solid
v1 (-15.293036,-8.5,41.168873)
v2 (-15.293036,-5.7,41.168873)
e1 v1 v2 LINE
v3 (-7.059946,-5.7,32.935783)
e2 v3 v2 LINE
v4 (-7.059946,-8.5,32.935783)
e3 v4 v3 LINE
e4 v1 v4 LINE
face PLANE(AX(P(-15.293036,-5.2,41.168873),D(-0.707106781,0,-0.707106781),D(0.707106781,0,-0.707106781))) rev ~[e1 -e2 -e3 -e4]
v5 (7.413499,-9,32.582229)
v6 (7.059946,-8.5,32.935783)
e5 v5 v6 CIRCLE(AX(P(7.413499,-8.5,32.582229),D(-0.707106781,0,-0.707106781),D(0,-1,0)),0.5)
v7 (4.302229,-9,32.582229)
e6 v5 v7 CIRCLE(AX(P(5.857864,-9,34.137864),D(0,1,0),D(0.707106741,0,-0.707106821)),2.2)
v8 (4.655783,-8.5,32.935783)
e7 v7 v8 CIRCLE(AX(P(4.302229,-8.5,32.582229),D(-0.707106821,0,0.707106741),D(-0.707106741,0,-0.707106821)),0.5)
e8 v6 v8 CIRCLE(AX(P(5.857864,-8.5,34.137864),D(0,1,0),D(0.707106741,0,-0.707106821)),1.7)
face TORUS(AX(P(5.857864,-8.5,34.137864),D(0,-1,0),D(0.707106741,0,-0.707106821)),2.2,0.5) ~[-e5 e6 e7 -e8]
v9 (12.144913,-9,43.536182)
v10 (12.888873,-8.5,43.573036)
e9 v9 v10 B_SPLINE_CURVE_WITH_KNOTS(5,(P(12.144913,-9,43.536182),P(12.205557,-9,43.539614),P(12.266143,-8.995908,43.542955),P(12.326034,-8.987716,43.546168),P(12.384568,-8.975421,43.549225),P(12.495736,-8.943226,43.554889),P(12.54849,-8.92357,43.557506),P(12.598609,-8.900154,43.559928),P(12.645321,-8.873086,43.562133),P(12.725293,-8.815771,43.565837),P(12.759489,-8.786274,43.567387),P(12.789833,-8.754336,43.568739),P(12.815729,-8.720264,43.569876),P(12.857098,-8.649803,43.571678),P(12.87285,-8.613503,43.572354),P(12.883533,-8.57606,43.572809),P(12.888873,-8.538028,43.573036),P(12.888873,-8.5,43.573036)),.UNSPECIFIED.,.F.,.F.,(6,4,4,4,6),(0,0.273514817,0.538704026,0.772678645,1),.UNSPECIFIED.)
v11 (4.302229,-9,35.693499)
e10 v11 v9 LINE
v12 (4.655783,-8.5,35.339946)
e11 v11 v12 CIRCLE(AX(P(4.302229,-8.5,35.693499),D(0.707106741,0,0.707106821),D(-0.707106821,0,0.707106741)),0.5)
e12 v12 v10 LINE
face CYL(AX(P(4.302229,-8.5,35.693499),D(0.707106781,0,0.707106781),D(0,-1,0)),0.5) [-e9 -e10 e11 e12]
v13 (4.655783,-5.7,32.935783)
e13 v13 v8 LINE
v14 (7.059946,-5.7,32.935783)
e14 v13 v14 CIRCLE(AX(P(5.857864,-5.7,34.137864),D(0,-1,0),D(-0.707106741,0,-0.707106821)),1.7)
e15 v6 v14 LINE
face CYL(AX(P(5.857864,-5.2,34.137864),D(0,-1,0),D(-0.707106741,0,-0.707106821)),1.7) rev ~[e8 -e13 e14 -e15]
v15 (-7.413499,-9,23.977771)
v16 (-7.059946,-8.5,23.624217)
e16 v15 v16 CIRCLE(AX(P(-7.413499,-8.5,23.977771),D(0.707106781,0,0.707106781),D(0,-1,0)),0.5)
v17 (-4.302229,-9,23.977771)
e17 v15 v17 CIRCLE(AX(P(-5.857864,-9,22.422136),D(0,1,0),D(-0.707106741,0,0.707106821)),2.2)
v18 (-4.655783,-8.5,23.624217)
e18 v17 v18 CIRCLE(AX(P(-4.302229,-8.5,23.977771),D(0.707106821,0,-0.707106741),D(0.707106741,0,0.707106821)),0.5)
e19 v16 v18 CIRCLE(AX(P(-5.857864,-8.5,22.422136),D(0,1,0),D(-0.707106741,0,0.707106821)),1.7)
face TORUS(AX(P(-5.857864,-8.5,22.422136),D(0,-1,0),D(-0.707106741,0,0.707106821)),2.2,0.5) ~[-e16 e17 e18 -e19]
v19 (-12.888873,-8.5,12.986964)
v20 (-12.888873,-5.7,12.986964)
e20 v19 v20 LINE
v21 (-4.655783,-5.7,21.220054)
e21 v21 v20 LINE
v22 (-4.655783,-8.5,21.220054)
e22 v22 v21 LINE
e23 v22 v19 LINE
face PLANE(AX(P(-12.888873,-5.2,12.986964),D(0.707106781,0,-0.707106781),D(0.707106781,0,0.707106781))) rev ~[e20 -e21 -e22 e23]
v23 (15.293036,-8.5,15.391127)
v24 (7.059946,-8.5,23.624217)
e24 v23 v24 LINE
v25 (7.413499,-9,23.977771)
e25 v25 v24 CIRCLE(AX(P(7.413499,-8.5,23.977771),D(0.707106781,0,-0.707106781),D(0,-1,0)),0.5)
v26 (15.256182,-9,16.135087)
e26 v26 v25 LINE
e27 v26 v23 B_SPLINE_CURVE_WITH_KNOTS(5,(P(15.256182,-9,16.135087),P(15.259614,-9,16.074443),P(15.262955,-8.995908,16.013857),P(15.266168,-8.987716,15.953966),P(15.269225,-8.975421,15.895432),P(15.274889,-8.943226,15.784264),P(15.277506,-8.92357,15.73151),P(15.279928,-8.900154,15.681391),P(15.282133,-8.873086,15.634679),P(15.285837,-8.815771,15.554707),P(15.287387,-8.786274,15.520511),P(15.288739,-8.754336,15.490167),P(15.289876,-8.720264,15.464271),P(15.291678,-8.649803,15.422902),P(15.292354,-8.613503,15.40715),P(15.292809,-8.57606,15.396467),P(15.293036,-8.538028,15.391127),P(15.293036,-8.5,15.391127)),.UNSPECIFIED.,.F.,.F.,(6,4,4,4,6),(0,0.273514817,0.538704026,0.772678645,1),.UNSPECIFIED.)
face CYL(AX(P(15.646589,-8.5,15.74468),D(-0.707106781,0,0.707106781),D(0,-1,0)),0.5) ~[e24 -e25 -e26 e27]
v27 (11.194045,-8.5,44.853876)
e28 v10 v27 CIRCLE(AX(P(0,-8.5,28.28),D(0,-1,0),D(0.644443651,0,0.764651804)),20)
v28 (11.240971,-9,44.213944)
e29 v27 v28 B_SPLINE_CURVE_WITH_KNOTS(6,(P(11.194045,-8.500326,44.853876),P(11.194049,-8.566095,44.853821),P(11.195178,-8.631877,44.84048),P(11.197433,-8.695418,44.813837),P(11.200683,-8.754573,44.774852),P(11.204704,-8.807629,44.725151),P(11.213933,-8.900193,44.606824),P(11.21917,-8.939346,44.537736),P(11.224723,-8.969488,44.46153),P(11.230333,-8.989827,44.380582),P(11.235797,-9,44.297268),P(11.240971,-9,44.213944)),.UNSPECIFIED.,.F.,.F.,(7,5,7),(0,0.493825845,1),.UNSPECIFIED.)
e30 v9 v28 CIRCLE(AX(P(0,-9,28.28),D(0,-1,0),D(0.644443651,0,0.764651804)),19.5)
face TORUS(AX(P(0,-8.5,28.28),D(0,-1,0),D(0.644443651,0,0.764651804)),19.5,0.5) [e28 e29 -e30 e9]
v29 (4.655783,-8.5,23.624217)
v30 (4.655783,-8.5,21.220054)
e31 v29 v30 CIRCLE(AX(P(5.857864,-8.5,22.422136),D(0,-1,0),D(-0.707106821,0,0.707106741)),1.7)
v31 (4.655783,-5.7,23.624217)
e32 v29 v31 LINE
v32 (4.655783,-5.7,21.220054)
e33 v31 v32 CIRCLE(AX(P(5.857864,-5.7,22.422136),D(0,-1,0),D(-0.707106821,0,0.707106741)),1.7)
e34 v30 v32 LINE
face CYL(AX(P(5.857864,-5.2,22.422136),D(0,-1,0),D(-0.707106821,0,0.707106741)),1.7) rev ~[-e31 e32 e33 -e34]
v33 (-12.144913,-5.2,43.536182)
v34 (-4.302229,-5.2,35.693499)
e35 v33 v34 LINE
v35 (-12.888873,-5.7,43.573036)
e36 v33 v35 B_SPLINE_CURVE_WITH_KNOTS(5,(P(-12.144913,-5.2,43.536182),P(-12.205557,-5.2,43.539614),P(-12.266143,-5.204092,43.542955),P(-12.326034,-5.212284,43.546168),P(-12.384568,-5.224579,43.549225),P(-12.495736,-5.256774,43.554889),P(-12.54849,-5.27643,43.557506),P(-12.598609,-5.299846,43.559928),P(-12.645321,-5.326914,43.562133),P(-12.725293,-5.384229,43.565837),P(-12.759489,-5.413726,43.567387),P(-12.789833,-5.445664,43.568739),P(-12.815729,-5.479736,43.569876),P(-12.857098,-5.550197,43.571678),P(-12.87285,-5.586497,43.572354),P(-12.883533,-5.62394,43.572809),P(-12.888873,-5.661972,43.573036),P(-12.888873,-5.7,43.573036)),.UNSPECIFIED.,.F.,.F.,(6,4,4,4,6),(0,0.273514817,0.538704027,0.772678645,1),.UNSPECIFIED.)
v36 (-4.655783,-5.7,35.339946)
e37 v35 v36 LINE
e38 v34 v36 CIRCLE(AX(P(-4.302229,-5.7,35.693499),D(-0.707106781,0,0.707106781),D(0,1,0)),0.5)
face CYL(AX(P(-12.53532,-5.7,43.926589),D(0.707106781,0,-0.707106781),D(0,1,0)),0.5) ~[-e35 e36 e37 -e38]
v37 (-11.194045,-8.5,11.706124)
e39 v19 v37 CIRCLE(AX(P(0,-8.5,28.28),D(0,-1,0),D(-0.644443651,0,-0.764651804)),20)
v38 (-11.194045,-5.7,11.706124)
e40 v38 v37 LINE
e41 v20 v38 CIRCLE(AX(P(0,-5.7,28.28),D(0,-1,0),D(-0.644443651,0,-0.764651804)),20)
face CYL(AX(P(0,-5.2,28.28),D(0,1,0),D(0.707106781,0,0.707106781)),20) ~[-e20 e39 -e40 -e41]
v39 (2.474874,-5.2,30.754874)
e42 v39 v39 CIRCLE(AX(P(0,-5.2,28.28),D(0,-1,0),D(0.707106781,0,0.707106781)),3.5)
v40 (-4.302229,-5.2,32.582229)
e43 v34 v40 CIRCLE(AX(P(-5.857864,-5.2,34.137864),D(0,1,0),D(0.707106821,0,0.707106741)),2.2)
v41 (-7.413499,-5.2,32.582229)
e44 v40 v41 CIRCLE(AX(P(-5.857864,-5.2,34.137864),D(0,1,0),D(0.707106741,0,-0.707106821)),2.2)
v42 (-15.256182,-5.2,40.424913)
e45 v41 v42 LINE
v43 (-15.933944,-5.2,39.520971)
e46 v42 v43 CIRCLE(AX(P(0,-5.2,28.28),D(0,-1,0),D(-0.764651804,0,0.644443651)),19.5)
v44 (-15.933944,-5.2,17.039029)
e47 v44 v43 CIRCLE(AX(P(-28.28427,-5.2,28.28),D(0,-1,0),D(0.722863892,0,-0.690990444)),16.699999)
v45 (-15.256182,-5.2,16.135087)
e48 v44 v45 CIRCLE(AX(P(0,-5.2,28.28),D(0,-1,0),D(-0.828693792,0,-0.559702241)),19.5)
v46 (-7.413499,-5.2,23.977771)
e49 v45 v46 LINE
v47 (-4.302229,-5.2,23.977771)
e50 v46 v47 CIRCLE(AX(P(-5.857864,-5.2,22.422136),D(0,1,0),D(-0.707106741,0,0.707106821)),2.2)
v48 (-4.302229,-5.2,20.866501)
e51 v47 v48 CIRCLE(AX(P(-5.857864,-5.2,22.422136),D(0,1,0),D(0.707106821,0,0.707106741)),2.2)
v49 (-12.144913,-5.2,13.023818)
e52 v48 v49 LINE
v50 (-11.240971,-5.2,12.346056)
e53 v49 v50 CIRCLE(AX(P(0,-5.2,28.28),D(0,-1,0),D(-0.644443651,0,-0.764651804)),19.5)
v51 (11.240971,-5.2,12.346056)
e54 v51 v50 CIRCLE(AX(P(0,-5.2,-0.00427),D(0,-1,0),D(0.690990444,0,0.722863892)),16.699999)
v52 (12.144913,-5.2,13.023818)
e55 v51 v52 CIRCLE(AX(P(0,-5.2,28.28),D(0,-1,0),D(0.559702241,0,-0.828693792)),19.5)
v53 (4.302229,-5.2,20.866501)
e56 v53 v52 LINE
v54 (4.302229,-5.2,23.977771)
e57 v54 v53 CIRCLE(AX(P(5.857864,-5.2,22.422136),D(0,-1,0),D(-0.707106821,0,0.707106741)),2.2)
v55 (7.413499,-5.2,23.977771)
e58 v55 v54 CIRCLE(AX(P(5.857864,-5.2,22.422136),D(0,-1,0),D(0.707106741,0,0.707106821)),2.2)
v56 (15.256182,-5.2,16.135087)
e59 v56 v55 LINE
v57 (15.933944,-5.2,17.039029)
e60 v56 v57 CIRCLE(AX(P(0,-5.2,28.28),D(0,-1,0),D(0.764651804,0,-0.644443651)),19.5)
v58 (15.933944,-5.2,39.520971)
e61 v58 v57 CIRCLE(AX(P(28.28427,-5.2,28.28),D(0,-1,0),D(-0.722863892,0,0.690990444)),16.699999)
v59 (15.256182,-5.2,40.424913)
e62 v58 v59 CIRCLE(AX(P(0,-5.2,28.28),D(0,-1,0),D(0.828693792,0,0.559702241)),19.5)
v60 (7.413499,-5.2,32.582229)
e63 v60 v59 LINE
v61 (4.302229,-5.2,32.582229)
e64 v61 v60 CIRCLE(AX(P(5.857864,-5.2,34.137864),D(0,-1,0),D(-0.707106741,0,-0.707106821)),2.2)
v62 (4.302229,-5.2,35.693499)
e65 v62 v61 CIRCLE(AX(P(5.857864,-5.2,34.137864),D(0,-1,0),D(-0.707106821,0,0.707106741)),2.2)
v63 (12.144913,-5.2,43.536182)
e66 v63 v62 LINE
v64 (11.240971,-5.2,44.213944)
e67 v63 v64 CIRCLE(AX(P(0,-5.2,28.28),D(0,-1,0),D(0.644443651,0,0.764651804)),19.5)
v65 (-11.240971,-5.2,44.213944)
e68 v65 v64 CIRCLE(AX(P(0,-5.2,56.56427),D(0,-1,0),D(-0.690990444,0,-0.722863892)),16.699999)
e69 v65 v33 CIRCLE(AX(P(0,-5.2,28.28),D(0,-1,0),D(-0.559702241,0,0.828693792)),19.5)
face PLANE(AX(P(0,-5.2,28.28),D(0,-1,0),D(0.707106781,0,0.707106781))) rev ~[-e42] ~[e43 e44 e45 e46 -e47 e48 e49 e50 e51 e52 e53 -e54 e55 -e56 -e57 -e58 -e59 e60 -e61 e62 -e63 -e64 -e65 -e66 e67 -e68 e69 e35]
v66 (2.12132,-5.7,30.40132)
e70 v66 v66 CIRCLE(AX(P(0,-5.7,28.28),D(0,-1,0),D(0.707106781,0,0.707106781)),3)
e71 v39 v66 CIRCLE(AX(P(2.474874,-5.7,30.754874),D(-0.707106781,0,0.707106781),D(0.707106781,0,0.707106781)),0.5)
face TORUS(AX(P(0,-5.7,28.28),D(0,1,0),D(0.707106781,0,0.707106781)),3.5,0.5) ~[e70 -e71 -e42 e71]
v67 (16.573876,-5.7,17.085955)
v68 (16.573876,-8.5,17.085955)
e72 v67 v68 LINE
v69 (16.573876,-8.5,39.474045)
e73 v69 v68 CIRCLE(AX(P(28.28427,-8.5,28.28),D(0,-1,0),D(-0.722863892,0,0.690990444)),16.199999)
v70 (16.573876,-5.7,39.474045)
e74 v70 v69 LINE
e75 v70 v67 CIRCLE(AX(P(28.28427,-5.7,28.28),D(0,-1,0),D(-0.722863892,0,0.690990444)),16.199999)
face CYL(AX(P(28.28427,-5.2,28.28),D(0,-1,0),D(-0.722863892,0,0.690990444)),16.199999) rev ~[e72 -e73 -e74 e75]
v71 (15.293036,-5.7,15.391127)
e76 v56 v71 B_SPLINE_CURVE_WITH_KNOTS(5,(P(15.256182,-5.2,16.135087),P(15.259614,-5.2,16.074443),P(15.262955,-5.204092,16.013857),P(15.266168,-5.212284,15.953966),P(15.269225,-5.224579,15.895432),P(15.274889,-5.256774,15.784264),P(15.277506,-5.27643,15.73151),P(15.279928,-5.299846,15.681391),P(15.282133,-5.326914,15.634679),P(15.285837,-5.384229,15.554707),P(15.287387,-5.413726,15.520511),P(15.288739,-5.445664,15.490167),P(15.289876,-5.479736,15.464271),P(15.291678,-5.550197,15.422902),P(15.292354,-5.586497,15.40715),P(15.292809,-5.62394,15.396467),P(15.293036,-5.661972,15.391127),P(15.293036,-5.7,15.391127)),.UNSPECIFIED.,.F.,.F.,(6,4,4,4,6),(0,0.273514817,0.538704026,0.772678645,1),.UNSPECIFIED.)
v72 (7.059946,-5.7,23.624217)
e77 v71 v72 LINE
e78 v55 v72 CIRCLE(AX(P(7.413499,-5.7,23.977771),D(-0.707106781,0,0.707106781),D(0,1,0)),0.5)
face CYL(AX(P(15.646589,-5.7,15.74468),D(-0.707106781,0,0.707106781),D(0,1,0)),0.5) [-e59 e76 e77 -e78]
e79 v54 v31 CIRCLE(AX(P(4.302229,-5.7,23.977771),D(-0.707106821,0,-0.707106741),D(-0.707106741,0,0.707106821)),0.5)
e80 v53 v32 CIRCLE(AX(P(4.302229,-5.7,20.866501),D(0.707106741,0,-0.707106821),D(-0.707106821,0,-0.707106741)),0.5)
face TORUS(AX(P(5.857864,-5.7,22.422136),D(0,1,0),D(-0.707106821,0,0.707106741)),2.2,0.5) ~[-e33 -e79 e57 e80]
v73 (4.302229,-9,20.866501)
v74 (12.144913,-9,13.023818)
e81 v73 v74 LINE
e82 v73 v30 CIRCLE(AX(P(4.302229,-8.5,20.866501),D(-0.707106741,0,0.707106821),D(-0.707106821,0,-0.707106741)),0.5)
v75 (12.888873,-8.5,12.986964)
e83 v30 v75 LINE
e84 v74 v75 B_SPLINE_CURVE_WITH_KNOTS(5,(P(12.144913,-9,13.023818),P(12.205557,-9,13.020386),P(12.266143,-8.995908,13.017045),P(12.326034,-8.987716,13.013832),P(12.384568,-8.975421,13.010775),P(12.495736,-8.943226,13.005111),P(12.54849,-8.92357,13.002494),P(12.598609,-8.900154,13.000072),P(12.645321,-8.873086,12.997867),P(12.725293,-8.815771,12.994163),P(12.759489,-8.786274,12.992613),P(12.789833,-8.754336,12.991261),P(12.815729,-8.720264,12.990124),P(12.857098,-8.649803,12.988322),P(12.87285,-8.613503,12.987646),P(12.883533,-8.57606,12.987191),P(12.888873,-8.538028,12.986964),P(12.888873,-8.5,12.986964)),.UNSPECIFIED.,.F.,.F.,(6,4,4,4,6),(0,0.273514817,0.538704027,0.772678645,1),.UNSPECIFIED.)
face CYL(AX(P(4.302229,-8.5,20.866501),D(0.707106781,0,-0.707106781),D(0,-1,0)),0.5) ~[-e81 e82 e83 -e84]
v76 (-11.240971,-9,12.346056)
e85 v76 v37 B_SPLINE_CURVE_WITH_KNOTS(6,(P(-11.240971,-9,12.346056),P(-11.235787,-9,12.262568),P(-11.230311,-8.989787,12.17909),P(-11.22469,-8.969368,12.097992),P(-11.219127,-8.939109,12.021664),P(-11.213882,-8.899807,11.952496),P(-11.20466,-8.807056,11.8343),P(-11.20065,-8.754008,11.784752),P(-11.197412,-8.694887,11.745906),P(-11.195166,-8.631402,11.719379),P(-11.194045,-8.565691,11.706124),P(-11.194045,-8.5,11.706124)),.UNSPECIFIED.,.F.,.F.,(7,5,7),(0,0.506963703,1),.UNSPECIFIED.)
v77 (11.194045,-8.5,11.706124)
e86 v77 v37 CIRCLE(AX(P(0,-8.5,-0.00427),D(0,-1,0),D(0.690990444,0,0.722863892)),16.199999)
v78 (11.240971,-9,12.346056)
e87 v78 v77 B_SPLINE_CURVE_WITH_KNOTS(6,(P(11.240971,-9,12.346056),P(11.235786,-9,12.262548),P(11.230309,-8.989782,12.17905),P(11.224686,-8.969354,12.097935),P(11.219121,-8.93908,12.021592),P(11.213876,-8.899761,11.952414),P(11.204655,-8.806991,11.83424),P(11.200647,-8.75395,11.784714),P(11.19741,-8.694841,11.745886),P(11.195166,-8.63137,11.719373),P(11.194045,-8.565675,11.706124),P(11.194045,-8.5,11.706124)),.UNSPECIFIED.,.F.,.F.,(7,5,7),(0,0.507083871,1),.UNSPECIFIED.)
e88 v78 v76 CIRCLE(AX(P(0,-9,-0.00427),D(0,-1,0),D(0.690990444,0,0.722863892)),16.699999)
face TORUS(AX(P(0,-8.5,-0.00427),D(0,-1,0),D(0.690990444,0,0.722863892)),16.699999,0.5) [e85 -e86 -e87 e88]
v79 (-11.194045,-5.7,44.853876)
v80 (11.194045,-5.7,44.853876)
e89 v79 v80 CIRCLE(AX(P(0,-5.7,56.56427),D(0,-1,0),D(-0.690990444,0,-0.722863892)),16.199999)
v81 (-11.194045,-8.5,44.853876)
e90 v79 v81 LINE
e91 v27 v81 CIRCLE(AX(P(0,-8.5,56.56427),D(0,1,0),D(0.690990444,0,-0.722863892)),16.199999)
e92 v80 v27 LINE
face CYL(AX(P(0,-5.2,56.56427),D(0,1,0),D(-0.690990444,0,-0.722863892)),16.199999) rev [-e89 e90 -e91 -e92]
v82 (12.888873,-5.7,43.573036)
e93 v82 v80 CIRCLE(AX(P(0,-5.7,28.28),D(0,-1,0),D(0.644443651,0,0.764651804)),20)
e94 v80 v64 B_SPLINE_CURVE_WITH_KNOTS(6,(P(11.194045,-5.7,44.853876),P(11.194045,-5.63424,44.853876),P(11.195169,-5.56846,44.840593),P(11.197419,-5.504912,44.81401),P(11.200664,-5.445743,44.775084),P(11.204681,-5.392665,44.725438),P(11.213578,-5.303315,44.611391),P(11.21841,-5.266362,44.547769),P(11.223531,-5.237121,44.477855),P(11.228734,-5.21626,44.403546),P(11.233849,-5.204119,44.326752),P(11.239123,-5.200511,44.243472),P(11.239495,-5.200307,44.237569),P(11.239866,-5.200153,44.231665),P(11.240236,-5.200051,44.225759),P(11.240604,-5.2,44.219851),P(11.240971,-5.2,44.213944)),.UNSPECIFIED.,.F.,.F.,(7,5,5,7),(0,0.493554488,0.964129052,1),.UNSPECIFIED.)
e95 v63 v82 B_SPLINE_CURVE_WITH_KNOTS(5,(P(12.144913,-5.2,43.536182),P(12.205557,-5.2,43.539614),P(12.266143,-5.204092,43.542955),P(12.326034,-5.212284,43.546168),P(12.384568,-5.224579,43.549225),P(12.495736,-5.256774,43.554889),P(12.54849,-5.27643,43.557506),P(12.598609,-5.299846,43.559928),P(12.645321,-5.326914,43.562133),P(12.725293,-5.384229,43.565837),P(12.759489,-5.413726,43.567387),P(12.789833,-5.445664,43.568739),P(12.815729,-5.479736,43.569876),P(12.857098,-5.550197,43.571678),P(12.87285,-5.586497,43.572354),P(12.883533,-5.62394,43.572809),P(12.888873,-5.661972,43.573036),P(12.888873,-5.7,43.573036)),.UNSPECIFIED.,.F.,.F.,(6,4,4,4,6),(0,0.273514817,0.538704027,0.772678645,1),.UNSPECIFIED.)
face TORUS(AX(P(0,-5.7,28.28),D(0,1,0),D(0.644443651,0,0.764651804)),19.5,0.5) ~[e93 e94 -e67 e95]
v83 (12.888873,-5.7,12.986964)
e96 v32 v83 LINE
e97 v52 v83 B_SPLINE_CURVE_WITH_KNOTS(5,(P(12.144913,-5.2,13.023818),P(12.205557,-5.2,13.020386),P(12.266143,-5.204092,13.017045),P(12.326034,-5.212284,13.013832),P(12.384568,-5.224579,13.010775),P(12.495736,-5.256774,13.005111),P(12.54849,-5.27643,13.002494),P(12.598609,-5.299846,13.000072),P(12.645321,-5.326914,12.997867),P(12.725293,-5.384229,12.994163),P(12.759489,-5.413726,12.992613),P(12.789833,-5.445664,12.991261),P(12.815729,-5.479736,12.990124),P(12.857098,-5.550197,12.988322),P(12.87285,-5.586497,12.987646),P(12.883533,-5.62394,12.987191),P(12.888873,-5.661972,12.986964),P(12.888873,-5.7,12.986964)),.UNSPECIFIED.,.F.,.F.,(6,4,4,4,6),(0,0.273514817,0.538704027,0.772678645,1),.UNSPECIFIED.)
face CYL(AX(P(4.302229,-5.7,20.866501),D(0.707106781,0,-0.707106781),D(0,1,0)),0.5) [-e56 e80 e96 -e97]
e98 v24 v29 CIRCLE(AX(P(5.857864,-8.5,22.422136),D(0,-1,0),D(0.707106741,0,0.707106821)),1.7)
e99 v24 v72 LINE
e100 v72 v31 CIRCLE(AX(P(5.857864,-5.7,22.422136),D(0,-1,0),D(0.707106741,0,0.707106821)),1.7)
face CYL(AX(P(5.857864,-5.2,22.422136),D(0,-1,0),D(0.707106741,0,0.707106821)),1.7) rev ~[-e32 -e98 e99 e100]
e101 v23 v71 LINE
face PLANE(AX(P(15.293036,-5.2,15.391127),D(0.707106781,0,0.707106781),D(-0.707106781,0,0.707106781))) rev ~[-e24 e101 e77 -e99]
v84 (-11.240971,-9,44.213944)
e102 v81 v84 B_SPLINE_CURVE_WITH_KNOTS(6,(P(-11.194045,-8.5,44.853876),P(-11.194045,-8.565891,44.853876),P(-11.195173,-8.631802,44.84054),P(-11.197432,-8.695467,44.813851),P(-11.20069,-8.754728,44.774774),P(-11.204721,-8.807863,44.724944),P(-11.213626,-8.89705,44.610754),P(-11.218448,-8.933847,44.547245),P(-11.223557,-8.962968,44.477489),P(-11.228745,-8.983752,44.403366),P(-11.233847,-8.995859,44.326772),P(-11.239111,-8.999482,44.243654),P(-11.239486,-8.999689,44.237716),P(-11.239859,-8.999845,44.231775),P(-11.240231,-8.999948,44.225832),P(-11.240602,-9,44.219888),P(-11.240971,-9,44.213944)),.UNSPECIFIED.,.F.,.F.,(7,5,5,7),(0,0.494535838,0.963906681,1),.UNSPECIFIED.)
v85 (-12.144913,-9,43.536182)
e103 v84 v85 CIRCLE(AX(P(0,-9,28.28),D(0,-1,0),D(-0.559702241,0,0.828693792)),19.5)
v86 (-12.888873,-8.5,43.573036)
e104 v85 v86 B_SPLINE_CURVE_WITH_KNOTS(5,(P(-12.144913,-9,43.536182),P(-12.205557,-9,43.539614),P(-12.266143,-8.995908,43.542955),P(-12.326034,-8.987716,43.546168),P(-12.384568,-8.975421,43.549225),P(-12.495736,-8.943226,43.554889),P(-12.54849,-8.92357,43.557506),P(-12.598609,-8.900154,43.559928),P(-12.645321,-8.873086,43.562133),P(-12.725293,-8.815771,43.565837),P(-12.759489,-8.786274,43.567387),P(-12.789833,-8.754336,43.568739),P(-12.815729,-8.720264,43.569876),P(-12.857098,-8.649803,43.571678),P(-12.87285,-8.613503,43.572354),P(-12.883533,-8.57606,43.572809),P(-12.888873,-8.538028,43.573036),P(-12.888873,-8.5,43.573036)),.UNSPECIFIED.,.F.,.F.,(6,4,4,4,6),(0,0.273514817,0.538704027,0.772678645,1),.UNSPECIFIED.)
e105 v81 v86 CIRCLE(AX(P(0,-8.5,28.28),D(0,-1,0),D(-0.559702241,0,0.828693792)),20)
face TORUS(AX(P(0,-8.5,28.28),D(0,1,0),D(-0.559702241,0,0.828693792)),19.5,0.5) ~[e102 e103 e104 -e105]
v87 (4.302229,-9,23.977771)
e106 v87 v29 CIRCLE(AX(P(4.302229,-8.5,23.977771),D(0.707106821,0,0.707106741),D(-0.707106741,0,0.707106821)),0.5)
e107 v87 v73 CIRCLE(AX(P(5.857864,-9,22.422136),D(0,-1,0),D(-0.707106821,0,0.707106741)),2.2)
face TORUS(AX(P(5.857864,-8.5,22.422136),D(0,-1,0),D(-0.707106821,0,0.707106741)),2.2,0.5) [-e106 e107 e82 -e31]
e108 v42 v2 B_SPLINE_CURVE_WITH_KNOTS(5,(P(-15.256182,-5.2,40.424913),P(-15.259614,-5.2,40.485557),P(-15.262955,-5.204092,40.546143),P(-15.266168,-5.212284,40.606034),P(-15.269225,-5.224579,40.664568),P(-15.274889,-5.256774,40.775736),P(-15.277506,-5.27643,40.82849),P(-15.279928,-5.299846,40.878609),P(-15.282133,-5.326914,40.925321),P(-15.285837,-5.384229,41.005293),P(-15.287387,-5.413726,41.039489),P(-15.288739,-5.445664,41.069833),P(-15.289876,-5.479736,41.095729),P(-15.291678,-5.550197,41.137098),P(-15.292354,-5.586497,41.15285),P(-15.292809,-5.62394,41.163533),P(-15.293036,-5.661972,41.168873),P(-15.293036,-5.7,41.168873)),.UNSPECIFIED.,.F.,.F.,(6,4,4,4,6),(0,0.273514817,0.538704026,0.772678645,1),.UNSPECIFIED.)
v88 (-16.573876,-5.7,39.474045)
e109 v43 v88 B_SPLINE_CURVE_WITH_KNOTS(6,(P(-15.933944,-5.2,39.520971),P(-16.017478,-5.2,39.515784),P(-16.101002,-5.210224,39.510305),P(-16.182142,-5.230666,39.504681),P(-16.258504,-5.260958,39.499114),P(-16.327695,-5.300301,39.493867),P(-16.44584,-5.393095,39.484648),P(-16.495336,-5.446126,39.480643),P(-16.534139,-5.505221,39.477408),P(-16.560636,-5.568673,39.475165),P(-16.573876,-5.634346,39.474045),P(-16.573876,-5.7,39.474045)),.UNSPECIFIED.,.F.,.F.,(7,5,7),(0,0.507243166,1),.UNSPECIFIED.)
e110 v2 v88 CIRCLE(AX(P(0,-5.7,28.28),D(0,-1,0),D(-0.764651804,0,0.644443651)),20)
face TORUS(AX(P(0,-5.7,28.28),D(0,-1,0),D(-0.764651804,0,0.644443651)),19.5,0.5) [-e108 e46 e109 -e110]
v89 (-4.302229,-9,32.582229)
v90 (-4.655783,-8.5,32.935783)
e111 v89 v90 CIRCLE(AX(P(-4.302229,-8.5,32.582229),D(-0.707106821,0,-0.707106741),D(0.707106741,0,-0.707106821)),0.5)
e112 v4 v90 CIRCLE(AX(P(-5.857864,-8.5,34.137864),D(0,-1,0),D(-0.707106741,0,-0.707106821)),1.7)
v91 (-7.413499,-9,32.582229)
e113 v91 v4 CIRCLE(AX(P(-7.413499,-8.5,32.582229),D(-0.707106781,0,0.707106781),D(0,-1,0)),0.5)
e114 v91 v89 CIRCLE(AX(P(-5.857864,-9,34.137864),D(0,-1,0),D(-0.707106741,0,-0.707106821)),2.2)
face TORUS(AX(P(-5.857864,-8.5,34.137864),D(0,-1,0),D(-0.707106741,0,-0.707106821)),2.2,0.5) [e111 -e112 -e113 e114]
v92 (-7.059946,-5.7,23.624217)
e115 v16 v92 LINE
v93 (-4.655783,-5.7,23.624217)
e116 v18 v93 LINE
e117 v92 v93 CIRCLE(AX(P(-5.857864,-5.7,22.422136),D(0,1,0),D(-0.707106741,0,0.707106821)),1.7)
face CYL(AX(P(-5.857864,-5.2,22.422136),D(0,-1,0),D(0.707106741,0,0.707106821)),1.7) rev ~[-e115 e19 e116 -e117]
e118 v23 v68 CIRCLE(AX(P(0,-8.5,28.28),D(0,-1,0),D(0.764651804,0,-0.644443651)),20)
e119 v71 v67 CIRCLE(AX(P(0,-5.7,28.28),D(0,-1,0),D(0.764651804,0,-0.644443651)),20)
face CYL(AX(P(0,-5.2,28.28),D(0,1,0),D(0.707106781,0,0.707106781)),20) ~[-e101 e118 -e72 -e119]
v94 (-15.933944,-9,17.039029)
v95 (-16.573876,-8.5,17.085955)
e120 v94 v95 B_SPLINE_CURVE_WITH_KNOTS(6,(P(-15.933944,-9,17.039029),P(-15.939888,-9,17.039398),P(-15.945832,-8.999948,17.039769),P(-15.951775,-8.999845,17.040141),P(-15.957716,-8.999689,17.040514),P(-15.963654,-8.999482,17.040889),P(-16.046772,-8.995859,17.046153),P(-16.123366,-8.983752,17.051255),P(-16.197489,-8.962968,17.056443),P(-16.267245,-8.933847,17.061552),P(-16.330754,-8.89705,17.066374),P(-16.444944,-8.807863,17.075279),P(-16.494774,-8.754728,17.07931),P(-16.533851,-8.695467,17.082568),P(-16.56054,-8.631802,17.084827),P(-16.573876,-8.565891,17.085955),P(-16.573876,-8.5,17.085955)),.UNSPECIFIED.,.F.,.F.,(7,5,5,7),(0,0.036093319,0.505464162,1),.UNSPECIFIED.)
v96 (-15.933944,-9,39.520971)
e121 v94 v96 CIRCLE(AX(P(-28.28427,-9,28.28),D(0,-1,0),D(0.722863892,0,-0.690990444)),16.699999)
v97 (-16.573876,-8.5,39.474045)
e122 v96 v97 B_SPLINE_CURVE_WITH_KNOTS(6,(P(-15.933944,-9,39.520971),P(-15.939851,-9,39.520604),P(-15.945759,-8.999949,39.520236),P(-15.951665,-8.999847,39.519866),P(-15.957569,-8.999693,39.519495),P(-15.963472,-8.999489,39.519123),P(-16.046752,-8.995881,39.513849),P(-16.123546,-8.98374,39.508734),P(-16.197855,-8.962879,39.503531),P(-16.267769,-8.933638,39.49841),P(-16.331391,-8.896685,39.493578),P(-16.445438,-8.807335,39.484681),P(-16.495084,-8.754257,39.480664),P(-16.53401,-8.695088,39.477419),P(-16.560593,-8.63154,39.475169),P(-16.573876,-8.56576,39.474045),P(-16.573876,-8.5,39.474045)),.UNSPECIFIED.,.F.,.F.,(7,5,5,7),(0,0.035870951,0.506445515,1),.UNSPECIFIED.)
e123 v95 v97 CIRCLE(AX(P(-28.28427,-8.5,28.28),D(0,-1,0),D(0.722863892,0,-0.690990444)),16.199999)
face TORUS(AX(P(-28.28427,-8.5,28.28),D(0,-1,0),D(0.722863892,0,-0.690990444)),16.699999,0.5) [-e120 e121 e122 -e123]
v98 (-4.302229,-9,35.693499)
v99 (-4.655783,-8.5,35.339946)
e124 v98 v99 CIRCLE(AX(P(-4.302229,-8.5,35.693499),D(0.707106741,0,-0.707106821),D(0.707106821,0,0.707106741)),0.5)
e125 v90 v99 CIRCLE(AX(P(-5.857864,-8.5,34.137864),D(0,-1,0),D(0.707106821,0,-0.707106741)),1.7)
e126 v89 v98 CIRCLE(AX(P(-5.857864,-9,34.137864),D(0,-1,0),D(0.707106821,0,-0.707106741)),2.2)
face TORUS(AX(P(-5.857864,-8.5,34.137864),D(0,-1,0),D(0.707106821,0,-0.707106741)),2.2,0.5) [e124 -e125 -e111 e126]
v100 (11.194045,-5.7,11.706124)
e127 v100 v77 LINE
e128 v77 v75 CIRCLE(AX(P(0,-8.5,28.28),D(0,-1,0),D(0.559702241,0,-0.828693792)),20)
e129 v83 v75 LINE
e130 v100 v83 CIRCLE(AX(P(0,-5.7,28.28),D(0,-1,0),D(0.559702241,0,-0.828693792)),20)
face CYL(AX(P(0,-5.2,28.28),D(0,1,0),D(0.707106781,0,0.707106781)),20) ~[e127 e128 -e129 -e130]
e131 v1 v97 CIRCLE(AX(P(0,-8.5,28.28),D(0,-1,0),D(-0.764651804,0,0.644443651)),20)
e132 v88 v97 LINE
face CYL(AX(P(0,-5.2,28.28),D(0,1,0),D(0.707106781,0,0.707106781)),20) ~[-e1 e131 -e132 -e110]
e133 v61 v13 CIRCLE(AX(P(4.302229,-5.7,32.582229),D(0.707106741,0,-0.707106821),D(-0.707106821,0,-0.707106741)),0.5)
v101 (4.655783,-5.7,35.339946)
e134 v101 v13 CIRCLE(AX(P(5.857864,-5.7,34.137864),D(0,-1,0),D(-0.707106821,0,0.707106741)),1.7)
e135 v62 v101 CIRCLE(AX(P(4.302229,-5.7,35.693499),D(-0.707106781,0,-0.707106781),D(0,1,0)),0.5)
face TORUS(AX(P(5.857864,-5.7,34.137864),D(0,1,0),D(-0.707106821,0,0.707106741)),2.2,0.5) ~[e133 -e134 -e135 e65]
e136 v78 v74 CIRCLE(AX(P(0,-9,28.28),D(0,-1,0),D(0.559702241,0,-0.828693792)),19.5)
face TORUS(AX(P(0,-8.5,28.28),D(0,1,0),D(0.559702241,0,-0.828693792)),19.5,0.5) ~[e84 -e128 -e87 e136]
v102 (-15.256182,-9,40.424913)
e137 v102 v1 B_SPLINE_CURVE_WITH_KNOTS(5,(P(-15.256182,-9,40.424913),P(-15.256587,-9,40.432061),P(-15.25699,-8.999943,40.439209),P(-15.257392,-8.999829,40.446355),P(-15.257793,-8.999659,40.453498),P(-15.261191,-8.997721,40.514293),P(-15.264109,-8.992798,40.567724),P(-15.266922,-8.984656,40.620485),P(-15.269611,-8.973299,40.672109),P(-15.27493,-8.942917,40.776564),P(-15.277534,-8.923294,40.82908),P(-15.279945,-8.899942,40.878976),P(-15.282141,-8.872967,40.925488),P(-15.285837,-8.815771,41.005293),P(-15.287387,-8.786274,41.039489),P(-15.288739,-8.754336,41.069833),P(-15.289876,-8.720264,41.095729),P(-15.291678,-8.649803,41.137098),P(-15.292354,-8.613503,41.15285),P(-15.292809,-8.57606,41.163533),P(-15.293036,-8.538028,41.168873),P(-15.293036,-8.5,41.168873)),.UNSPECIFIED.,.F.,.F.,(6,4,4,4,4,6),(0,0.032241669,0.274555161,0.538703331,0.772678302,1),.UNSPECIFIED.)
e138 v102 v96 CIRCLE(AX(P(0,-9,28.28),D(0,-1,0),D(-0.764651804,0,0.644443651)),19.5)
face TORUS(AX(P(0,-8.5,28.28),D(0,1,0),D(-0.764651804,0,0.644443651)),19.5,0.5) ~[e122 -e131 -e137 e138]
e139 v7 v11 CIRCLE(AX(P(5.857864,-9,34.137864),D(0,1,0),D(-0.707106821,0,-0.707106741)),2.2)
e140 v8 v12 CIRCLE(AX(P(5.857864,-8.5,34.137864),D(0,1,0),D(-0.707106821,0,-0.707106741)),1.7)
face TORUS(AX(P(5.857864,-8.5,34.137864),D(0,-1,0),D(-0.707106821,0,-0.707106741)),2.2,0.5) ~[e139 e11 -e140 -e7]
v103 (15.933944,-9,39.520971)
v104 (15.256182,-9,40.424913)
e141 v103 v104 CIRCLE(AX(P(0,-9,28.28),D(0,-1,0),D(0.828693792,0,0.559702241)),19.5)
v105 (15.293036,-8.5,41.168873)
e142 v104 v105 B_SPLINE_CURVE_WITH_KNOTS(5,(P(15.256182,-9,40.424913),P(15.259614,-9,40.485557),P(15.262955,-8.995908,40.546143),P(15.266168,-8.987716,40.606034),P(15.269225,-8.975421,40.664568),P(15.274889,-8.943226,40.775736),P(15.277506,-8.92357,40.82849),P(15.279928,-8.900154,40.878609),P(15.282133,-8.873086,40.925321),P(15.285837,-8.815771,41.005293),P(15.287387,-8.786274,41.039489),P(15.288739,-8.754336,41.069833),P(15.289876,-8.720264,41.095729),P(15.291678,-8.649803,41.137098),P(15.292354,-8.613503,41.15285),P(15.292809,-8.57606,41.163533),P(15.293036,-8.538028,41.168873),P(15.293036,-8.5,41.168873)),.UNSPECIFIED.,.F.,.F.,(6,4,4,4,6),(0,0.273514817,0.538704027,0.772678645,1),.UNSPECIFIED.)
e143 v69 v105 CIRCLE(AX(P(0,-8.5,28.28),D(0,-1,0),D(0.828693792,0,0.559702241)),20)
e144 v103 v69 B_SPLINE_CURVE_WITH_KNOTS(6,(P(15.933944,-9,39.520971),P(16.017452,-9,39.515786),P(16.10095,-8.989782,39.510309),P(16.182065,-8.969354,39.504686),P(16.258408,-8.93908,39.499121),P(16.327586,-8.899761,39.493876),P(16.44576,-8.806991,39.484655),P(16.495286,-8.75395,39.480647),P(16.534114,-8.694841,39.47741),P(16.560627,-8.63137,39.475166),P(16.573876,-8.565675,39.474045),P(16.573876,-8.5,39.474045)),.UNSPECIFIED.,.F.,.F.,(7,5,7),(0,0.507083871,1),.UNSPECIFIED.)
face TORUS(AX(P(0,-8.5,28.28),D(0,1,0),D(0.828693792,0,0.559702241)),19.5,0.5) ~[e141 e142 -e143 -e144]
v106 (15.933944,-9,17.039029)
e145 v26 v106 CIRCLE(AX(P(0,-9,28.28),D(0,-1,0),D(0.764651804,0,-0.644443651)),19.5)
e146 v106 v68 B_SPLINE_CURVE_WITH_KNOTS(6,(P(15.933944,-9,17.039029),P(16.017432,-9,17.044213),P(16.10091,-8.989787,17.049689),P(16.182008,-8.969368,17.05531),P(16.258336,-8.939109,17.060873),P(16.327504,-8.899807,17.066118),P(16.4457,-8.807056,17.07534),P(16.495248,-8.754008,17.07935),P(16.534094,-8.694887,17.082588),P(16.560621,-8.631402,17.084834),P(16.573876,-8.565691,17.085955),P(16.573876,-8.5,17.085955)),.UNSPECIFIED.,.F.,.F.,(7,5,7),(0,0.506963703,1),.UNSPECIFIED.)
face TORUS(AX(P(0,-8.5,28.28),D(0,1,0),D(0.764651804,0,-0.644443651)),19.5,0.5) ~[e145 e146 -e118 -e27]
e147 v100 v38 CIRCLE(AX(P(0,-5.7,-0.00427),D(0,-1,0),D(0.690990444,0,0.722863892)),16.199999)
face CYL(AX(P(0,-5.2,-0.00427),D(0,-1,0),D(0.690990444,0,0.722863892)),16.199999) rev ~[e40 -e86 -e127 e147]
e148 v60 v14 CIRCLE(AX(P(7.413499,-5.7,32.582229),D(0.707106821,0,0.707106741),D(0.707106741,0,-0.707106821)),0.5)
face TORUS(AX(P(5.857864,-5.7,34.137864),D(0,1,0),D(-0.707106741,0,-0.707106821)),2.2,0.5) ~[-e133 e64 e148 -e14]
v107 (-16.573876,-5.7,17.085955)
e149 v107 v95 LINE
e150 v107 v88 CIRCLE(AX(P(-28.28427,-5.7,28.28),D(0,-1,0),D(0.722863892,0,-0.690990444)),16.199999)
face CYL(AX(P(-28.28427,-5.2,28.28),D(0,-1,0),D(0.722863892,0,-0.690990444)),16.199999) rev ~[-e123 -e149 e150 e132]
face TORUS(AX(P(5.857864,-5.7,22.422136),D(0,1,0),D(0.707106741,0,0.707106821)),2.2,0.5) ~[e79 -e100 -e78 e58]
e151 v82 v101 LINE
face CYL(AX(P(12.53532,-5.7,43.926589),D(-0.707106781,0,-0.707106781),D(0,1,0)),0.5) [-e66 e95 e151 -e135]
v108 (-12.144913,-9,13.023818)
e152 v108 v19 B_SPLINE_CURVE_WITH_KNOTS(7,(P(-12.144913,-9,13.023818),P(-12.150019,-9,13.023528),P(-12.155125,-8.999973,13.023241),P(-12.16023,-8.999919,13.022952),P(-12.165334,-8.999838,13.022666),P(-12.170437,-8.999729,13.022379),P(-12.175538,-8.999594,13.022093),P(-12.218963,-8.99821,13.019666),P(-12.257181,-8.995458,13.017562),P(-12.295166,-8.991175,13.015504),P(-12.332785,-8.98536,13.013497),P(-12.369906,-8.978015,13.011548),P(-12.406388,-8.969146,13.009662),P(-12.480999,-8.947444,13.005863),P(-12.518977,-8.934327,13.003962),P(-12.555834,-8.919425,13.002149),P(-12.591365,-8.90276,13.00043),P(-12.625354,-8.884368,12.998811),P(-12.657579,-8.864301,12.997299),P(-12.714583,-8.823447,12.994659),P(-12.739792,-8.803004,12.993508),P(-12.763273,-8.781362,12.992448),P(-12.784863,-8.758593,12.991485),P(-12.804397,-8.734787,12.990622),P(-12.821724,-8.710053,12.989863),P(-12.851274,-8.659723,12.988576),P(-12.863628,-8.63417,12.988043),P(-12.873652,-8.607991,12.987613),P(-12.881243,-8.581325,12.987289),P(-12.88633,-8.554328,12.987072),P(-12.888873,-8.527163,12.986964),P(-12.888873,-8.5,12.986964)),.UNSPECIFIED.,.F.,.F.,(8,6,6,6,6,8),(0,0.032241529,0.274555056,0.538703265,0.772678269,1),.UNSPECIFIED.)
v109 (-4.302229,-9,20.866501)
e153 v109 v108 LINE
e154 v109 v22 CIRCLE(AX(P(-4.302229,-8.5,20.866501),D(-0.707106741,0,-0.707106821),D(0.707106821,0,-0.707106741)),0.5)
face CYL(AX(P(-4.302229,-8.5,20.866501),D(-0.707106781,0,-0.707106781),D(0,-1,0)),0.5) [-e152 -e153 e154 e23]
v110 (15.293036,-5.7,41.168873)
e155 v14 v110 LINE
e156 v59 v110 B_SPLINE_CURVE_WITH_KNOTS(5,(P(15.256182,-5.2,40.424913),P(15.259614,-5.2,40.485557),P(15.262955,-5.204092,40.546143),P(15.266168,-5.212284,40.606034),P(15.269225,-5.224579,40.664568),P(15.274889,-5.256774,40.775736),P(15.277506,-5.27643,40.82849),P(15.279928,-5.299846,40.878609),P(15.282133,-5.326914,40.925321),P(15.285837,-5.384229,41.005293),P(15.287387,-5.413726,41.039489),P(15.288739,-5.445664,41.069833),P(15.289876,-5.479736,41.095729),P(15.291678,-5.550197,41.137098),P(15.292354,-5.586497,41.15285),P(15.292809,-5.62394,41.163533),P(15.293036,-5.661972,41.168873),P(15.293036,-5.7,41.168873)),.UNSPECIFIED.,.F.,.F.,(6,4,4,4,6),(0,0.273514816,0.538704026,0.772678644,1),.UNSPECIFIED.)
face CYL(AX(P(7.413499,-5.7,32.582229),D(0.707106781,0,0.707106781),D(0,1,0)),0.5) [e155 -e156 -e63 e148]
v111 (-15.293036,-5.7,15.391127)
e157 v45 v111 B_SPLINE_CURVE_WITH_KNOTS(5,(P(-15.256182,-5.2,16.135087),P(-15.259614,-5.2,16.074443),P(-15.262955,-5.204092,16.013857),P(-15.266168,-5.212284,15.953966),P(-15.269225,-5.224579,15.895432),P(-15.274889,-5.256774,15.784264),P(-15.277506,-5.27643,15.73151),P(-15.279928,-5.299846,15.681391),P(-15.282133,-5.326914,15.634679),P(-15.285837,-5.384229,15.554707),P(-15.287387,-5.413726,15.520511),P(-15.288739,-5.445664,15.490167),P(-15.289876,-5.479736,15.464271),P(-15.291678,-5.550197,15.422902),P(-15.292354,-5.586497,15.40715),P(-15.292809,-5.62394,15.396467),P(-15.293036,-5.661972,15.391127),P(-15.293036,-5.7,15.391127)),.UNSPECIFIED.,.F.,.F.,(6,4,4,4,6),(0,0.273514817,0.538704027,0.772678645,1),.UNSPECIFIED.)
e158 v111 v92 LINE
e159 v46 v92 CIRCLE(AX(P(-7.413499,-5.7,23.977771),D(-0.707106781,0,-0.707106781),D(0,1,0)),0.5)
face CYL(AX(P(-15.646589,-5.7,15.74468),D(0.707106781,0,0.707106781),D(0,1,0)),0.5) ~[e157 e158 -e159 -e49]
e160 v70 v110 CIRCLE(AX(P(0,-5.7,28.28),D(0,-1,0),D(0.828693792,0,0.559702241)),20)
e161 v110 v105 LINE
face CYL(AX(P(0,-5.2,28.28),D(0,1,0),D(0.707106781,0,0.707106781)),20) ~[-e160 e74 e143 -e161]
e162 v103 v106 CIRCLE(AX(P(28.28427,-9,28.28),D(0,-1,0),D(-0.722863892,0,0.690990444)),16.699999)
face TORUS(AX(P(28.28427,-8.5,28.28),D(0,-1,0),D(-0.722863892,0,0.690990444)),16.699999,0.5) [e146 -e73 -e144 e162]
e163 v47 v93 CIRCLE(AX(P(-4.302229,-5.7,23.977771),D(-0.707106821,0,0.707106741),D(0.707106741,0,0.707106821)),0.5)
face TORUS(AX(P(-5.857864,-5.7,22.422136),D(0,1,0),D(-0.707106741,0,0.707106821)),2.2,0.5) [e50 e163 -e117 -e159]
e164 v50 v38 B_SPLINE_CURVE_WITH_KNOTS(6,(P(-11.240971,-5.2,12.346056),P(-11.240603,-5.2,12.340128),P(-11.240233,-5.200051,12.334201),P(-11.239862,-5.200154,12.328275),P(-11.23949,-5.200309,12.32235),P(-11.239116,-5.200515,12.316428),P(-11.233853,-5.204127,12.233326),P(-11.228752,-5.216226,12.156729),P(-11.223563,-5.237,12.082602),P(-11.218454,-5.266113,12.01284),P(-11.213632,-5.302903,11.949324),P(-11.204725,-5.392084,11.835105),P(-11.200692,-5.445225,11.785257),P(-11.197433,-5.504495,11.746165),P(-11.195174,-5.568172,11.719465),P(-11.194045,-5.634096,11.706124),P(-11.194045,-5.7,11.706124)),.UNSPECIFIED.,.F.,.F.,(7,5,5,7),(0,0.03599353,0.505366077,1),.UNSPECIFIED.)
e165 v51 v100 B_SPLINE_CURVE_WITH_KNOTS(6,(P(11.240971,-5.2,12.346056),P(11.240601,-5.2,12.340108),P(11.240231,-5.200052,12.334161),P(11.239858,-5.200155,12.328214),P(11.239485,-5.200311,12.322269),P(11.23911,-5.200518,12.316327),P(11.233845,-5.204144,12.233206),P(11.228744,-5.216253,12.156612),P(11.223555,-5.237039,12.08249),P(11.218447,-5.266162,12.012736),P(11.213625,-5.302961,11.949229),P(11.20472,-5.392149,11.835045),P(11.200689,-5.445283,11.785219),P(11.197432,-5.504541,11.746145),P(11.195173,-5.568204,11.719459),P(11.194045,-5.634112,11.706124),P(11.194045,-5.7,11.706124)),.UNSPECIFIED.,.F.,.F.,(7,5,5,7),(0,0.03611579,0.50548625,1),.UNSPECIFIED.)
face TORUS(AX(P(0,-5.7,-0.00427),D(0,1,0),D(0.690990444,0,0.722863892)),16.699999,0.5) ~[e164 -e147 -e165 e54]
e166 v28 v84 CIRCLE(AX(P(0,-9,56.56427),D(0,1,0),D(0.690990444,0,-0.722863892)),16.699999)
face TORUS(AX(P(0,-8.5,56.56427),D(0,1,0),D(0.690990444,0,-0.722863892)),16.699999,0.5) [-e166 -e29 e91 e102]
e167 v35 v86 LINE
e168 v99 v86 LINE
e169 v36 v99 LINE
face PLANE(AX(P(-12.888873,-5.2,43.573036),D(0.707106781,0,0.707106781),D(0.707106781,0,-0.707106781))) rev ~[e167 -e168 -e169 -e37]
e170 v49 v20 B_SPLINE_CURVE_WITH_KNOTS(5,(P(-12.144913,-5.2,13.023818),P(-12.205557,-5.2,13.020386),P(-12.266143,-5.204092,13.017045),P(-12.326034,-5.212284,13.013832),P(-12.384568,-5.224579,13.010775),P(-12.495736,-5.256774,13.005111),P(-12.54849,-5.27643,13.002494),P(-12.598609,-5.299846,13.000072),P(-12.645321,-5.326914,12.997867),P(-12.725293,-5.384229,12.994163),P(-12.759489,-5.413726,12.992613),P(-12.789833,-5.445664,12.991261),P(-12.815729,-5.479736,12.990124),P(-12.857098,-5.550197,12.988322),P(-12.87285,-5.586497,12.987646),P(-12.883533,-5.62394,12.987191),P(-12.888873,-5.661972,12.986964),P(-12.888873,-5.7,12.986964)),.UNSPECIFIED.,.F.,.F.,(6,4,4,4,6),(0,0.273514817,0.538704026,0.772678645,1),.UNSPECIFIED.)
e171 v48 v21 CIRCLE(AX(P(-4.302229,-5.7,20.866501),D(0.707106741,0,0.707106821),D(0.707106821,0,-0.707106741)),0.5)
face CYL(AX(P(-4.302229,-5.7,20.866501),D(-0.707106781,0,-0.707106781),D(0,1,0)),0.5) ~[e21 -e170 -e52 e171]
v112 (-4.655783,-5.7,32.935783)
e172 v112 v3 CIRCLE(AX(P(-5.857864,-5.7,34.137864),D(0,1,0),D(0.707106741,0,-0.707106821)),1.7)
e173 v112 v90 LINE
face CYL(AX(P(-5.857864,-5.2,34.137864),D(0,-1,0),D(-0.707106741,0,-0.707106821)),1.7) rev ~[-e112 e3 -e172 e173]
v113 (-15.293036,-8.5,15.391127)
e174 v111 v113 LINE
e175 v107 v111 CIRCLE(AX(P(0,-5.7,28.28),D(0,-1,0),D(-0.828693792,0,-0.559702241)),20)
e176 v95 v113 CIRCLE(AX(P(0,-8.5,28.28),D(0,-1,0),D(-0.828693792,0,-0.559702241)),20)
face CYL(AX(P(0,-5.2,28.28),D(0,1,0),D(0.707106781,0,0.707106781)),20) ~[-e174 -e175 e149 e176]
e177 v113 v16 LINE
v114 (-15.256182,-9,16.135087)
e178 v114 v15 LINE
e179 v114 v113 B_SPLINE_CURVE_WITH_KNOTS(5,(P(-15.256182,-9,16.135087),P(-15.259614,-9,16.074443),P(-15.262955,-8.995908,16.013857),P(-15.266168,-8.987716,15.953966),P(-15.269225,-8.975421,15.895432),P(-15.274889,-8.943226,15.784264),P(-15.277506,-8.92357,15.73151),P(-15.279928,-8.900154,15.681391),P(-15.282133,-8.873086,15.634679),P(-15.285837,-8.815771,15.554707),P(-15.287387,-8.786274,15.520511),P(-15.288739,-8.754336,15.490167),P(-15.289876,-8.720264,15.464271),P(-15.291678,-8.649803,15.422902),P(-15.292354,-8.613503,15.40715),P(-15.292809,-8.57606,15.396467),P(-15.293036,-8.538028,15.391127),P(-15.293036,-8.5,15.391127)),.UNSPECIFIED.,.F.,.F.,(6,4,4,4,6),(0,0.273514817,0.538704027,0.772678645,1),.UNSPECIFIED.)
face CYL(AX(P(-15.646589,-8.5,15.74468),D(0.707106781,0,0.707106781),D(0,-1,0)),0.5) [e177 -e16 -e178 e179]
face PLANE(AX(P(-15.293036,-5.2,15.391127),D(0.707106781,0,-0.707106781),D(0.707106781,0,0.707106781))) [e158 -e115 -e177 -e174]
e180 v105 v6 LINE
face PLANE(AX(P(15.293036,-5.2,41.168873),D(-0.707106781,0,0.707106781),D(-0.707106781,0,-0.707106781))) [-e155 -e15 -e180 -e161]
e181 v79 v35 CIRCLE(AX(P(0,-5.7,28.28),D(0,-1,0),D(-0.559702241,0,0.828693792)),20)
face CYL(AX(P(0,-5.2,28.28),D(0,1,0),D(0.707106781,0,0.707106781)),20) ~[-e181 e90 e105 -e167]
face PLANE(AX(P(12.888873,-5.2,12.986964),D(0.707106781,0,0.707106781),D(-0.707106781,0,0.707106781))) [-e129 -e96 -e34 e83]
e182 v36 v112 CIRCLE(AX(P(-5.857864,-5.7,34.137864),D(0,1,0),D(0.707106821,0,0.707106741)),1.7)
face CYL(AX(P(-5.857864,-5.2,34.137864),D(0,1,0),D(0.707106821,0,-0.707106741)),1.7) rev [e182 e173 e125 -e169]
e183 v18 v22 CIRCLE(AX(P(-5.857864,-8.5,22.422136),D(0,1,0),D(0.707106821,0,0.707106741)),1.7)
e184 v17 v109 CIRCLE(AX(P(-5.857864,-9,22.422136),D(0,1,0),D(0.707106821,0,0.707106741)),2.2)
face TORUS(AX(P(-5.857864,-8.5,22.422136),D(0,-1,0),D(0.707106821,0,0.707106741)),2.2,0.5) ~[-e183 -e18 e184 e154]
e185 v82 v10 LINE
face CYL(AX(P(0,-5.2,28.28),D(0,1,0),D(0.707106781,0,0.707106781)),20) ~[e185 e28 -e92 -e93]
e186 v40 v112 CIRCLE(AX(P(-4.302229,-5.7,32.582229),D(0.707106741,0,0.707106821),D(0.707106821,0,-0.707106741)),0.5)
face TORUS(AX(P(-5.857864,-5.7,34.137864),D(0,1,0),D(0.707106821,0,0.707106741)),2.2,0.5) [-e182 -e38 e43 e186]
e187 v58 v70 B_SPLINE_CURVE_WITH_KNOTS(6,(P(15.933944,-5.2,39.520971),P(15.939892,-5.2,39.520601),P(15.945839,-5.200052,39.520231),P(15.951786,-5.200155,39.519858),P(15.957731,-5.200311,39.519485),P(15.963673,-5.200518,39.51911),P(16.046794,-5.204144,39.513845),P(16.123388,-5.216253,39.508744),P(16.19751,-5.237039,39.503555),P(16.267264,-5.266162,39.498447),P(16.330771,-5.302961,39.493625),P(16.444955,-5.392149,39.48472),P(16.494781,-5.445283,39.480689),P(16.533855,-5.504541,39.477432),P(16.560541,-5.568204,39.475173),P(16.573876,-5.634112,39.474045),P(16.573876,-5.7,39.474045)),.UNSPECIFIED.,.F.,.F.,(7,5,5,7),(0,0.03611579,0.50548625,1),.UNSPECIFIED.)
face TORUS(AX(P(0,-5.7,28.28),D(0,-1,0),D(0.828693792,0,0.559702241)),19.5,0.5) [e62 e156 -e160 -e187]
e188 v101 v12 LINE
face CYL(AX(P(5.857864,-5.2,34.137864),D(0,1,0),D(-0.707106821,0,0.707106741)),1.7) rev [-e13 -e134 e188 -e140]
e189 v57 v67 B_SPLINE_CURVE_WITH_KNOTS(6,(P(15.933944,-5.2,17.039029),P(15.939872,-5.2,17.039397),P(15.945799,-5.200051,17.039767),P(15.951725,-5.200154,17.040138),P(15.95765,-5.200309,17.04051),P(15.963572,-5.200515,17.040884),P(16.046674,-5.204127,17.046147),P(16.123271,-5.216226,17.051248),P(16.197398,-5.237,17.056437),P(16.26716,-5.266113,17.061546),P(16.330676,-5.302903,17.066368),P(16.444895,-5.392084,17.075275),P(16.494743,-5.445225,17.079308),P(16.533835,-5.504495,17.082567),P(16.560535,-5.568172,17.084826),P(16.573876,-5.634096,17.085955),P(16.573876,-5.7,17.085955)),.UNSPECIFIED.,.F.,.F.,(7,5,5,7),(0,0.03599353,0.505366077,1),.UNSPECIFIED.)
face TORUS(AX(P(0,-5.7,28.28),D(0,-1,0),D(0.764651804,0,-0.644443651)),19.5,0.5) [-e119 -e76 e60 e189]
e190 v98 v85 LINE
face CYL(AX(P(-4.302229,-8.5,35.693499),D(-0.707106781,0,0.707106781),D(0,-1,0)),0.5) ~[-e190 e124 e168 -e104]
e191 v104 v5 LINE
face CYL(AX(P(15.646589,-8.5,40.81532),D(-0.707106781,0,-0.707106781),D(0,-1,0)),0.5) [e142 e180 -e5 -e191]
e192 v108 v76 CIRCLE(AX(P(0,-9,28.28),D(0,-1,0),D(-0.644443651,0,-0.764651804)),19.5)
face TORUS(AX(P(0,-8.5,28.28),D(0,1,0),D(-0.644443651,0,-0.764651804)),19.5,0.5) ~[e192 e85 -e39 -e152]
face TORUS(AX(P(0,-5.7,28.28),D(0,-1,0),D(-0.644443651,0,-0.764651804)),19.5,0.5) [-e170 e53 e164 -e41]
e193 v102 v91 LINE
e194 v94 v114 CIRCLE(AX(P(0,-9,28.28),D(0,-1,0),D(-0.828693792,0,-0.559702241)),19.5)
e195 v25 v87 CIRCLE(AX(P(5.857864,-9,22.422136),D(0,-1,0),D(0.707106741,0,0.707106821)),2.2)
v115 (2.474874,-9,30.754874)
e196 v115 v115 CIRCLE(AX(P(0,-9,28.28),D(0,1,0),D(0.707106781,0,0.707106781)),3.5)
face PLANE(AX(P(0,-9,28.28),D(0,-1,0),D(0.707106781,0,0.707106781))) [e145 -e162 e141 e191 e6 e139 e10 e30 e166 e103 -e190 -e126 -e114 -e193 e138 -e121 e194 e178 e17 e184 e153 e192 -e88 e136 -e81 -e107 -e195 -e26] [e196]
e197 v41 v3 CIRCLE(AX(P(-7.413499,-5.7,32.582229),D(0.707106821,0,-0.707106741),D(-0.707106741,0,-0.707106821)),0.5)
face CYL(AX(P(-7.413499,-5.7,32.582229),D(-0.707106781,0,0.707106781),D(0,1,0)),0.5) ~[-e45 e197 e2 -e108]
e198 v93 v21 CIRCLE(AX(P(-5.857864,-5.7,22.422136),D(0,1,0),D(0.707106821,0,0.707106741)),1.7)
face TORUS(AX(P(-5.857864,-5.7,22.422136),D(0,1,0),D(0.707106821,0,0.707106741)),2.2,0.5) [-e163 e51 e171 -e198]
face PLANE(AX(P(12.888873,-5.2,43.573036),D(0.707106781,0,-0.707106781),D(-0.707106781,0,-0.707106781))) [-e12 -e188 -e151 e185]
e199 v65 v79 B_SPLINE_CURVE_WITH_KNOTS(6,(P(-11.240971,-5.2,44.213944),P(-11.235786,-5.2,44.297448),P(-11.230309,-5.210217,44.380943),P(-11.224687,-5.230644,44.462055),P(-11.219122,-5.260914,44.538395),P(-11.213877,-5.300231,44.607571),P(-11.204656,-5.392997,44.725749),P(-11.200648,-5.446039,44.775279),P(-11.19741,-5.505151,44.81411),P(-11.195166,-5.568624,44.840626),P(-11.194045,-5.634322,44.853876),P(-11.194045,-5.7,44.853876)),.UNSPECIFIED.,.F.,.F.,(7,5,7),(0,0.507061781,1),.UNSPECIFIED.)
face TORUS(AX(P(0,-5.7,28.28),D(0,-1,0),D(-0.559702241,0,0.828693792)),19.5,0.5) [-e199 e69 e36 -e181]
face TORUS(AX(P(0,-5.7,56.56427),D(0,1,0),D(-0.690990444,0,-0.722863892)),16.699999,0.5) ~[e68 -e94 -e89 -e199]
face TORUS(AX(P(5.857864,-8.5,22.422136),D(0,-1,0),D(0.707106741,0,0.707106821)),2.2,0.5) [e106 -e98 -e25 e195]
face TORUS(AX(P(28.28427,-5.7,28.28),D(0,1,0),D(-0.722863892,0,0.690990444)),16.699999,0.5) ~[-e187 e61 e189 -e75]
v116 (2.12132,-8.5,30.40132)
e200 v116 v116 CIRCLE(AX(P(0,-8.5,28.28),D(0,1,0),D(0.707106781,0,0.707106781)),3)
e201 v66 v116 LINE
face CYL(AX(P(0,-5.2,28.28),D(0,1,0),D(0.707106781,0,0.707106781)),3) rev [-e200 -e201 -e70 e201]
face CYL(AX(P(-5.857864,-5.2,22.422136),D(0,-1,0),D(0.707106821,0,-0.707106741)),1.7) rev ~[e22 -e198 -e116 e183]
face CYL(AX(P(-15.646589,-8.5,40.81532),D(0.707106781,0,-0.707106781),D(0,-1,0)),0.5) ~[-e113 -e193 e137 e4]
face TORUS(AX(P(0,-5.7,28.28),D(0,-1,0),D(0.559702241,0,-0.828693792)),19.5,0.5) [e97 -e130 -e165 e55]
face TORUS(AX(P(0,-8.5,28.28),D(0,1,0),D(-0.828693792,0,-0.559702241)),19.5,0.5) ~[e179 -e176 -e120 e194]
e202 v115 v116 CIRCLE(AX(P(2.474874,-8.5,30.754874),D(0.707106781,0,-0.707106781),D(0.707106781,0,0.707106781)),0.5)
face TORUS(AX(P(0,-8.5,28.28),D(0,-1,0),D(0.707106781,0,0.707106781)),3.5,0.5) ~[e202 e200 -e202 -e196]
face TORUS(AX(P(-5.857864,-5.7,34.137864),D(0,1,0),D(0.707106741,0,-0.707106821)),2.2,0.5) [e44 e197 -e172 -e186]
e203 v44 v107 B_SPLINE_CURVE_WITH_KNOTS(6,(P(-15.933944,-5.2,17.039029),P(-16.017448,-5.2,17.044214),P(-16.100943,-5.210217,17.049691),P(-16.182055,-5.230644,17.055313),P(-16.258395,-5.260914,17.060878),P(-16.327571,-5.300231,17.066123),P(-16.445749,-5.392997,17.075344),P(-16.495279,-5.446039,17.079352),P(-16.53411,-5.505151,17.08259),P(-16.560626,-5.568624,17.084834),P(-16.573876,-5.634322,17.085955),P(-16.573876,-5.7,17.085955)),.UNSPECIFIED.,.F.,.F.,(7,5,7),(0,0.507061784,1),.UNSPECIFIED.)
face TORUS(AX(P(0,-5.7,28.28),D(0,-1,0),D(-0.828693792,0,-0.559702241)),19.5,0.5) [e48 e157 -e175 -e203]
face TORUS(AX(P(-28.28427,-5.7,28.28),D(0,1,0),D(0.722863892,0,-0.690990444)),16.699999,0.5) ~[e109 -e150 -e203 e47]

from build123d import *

# Parameters (mm, degrees)
SKETCH016_R             = 20
PAD009_DEPTH            = 3.8
POCKET008_DEPTH         = 113.393063
POCKET008_DEPTH_BACK    = 117.193063
POLARPATTERN004_COUNT   = 4
SKETCH020_R             = 3
POCKET012_DEPTH         = 0.001
POCKET012_DEPTH_BACK    = 3.801
FILLET_R                = 0.5
BODY001_PLACEMENT_ANGLE = 315


with BuildPart() as part:
    # Sketch016 → Pad009 (new body)
    with BuildSketch(Plane.XZ):
        Circle(SKETCH016_R)
    extrude(amount=PAD009_DEPTH)

    # Sketch002 → Pocket008 (cut, two sides)
    with BuildSketch(Plane.XZ) as pocket008_sk:
        with BuildLine():
            Line((1.7, 19.927619), (1.7, 8.284271))
            ThreePointArc((0, 6.584271), (1.202082, 7.08219), (1.7, 8.284271))
            Line((0, 6.584271), (0, 28.284271))
            Line((0, 28.284271), (28.284271, 0))
            Line((6.584271, 0), (28.284271, 0))
            ThreePointArc((8.284271, 1.7), (7.08219, 1.202082), (6.584271, 0))
            Line((19.927619, 1.7), (8.284271, 1.7))
            ThreePointArc((19.927619, 1.7), (19.809209, 2.755947), (19.634885, 3.804115))
            ThreePointArc((3.804115, 19.634885), (8.54487, 8.54487), (19.634885, 3.804115))
            ThreePointArc((3.804115, 19.634885), (2.755947, 19.809209), (1.7, 19.927619))
        make_face()
    pocket008 = extrude(amount=-POCKET008_DEPTH, mode=Mode.SUBTRACT) + extrude(pocket008_sk.sketch, amount=POCKET008_DEPTH_BACK, mode=Mode.SUBTRACT)

    # PolarPattern004: Pocket008 ×4 about axis
    polarpattern004_axis = Axis((0, 0, 0), (0, -1, 0))
    for i in range(1, POLARPATTERN004_COUNT):
        add(pocket008.rotate(polarpattern004_axis, i * 360 / POLARPATTERN004_COUNT), mode=Mode.SUBTRACT)

    # Sketch020 → Pocket012 (cut, two sides)
    with BuildSketch(Plane.XZ) as pocket012_sk:
        Circle(SKETCH020_R)
    extrude(amount=-POCKET012_DEPTH, mode=Mode.SUBTRACT)
    extrude(pocket012_sk.sketch, amount=POCKET012_DEPTH_BACK, mode=Mode.SUBTRACT)

    # Fillet
    fillet_edges = [part.edges().sort_by_distance(p)[0] for p in [
        (7.08219, -3.8, 1.202082),
        (14.105945, -3.8, 1.7),
        (7.08219, -3.8, -1.202082),
        (19.809209, -3.8, 2.755947),
        (14.105945, -3.8, -1.7),
        (8.54487, -3.8, 8.54487),
        (19.809209, -3.8, -2.755947),
        (2.755947, -3.8, 19.809209),
        (8.54487, -3.8, -8.54487),
        (1.7, -3.8, 14.105945),
        (2.755947, -3.8, -19.809209),
        (1.202082, -3.8, 7.08219),
        (1.7, -3.8, -14.105945),
        (-1.202082, -3.8, 7.08219),
        (1.202082, -3.8, -7.08219),
        (-1.7, -3.8, 14.105945),
        (-1.202082, -3.8, -7.08219),
        (-2.755947, -3.8, 19.809209),
        (-1.7, -3.8, -14.105945),
        (-8.54487, -3.8, 8.54487),
        (-2.755947, -3.8, -19.809209),
        (-19.809209, -3.8, 2.755947),
        (-8.54487, -3.8, -8.54487),
        (-14.105945, -3.8, 1.7),
        (-19.809209, -3.8, -2.755947),
        (-7.08219, -3.8, 1.202082),
        (-14.105945, -3.8, -1.7),
        (-7.08219, -3.8, -1.202082),
        (-3, -3.8, 0),
        (7.08219, 0, 1.202082),
        (14.105945, 0, 1.7),
        (7.08219, 0, -1.202082),
        (19.809209, 0, 2.755947),
        (14.105945, 0, -1.7),
        (8.54487, 0, 8.54487),
        (19.809209, 0, -2.755947),
        (2.755947, 0, 19.809209),
        (8.54487, 0, -8.54487),
        (1.7, 0, 14.105945),
        (2.755947, 0, -19.809209),
        (1.202082, 0, 7.08219),
        (1.7, 0, -14.105945),
        (-1.202082, 0, 7.08219),
        (1.202082, 0, -7.08219),
        (-1.7, 0, 14.105945),
        (-1.202082, 0, -7.08219),
        (-2.755947, 0, 19.809209),
        (-1.7, 0, -14.105945),
        (-8.54487, 0, 8.54487),
        (-2.755947, 0, -19.809209),
        (-19.809209, 0, 2.755947),
        (-8.54487, 0, -8.54487),
        (-14.105945, 0, 1.7),
        (-19.809209, 0, -2.755947),
        (-7.08219, 0, 1.202082),
        (-14.105945, 0, -1.7),
        (-7.08219, 0, -1.202082),
        (-3, 0, 0),
    ]]
    fillet(fillet_edges, radius=FILLET_R)


with BuildPart() as part_1:
    # Body001 placement: moved
    add(part.part.moved(Location((0, -5.2, 28.28))).rotate(Axis((0, -5.2, 28.28), (0, 1, 0)), BODY001_PLACEMENT_ANGLE))


solid = part_1.part
